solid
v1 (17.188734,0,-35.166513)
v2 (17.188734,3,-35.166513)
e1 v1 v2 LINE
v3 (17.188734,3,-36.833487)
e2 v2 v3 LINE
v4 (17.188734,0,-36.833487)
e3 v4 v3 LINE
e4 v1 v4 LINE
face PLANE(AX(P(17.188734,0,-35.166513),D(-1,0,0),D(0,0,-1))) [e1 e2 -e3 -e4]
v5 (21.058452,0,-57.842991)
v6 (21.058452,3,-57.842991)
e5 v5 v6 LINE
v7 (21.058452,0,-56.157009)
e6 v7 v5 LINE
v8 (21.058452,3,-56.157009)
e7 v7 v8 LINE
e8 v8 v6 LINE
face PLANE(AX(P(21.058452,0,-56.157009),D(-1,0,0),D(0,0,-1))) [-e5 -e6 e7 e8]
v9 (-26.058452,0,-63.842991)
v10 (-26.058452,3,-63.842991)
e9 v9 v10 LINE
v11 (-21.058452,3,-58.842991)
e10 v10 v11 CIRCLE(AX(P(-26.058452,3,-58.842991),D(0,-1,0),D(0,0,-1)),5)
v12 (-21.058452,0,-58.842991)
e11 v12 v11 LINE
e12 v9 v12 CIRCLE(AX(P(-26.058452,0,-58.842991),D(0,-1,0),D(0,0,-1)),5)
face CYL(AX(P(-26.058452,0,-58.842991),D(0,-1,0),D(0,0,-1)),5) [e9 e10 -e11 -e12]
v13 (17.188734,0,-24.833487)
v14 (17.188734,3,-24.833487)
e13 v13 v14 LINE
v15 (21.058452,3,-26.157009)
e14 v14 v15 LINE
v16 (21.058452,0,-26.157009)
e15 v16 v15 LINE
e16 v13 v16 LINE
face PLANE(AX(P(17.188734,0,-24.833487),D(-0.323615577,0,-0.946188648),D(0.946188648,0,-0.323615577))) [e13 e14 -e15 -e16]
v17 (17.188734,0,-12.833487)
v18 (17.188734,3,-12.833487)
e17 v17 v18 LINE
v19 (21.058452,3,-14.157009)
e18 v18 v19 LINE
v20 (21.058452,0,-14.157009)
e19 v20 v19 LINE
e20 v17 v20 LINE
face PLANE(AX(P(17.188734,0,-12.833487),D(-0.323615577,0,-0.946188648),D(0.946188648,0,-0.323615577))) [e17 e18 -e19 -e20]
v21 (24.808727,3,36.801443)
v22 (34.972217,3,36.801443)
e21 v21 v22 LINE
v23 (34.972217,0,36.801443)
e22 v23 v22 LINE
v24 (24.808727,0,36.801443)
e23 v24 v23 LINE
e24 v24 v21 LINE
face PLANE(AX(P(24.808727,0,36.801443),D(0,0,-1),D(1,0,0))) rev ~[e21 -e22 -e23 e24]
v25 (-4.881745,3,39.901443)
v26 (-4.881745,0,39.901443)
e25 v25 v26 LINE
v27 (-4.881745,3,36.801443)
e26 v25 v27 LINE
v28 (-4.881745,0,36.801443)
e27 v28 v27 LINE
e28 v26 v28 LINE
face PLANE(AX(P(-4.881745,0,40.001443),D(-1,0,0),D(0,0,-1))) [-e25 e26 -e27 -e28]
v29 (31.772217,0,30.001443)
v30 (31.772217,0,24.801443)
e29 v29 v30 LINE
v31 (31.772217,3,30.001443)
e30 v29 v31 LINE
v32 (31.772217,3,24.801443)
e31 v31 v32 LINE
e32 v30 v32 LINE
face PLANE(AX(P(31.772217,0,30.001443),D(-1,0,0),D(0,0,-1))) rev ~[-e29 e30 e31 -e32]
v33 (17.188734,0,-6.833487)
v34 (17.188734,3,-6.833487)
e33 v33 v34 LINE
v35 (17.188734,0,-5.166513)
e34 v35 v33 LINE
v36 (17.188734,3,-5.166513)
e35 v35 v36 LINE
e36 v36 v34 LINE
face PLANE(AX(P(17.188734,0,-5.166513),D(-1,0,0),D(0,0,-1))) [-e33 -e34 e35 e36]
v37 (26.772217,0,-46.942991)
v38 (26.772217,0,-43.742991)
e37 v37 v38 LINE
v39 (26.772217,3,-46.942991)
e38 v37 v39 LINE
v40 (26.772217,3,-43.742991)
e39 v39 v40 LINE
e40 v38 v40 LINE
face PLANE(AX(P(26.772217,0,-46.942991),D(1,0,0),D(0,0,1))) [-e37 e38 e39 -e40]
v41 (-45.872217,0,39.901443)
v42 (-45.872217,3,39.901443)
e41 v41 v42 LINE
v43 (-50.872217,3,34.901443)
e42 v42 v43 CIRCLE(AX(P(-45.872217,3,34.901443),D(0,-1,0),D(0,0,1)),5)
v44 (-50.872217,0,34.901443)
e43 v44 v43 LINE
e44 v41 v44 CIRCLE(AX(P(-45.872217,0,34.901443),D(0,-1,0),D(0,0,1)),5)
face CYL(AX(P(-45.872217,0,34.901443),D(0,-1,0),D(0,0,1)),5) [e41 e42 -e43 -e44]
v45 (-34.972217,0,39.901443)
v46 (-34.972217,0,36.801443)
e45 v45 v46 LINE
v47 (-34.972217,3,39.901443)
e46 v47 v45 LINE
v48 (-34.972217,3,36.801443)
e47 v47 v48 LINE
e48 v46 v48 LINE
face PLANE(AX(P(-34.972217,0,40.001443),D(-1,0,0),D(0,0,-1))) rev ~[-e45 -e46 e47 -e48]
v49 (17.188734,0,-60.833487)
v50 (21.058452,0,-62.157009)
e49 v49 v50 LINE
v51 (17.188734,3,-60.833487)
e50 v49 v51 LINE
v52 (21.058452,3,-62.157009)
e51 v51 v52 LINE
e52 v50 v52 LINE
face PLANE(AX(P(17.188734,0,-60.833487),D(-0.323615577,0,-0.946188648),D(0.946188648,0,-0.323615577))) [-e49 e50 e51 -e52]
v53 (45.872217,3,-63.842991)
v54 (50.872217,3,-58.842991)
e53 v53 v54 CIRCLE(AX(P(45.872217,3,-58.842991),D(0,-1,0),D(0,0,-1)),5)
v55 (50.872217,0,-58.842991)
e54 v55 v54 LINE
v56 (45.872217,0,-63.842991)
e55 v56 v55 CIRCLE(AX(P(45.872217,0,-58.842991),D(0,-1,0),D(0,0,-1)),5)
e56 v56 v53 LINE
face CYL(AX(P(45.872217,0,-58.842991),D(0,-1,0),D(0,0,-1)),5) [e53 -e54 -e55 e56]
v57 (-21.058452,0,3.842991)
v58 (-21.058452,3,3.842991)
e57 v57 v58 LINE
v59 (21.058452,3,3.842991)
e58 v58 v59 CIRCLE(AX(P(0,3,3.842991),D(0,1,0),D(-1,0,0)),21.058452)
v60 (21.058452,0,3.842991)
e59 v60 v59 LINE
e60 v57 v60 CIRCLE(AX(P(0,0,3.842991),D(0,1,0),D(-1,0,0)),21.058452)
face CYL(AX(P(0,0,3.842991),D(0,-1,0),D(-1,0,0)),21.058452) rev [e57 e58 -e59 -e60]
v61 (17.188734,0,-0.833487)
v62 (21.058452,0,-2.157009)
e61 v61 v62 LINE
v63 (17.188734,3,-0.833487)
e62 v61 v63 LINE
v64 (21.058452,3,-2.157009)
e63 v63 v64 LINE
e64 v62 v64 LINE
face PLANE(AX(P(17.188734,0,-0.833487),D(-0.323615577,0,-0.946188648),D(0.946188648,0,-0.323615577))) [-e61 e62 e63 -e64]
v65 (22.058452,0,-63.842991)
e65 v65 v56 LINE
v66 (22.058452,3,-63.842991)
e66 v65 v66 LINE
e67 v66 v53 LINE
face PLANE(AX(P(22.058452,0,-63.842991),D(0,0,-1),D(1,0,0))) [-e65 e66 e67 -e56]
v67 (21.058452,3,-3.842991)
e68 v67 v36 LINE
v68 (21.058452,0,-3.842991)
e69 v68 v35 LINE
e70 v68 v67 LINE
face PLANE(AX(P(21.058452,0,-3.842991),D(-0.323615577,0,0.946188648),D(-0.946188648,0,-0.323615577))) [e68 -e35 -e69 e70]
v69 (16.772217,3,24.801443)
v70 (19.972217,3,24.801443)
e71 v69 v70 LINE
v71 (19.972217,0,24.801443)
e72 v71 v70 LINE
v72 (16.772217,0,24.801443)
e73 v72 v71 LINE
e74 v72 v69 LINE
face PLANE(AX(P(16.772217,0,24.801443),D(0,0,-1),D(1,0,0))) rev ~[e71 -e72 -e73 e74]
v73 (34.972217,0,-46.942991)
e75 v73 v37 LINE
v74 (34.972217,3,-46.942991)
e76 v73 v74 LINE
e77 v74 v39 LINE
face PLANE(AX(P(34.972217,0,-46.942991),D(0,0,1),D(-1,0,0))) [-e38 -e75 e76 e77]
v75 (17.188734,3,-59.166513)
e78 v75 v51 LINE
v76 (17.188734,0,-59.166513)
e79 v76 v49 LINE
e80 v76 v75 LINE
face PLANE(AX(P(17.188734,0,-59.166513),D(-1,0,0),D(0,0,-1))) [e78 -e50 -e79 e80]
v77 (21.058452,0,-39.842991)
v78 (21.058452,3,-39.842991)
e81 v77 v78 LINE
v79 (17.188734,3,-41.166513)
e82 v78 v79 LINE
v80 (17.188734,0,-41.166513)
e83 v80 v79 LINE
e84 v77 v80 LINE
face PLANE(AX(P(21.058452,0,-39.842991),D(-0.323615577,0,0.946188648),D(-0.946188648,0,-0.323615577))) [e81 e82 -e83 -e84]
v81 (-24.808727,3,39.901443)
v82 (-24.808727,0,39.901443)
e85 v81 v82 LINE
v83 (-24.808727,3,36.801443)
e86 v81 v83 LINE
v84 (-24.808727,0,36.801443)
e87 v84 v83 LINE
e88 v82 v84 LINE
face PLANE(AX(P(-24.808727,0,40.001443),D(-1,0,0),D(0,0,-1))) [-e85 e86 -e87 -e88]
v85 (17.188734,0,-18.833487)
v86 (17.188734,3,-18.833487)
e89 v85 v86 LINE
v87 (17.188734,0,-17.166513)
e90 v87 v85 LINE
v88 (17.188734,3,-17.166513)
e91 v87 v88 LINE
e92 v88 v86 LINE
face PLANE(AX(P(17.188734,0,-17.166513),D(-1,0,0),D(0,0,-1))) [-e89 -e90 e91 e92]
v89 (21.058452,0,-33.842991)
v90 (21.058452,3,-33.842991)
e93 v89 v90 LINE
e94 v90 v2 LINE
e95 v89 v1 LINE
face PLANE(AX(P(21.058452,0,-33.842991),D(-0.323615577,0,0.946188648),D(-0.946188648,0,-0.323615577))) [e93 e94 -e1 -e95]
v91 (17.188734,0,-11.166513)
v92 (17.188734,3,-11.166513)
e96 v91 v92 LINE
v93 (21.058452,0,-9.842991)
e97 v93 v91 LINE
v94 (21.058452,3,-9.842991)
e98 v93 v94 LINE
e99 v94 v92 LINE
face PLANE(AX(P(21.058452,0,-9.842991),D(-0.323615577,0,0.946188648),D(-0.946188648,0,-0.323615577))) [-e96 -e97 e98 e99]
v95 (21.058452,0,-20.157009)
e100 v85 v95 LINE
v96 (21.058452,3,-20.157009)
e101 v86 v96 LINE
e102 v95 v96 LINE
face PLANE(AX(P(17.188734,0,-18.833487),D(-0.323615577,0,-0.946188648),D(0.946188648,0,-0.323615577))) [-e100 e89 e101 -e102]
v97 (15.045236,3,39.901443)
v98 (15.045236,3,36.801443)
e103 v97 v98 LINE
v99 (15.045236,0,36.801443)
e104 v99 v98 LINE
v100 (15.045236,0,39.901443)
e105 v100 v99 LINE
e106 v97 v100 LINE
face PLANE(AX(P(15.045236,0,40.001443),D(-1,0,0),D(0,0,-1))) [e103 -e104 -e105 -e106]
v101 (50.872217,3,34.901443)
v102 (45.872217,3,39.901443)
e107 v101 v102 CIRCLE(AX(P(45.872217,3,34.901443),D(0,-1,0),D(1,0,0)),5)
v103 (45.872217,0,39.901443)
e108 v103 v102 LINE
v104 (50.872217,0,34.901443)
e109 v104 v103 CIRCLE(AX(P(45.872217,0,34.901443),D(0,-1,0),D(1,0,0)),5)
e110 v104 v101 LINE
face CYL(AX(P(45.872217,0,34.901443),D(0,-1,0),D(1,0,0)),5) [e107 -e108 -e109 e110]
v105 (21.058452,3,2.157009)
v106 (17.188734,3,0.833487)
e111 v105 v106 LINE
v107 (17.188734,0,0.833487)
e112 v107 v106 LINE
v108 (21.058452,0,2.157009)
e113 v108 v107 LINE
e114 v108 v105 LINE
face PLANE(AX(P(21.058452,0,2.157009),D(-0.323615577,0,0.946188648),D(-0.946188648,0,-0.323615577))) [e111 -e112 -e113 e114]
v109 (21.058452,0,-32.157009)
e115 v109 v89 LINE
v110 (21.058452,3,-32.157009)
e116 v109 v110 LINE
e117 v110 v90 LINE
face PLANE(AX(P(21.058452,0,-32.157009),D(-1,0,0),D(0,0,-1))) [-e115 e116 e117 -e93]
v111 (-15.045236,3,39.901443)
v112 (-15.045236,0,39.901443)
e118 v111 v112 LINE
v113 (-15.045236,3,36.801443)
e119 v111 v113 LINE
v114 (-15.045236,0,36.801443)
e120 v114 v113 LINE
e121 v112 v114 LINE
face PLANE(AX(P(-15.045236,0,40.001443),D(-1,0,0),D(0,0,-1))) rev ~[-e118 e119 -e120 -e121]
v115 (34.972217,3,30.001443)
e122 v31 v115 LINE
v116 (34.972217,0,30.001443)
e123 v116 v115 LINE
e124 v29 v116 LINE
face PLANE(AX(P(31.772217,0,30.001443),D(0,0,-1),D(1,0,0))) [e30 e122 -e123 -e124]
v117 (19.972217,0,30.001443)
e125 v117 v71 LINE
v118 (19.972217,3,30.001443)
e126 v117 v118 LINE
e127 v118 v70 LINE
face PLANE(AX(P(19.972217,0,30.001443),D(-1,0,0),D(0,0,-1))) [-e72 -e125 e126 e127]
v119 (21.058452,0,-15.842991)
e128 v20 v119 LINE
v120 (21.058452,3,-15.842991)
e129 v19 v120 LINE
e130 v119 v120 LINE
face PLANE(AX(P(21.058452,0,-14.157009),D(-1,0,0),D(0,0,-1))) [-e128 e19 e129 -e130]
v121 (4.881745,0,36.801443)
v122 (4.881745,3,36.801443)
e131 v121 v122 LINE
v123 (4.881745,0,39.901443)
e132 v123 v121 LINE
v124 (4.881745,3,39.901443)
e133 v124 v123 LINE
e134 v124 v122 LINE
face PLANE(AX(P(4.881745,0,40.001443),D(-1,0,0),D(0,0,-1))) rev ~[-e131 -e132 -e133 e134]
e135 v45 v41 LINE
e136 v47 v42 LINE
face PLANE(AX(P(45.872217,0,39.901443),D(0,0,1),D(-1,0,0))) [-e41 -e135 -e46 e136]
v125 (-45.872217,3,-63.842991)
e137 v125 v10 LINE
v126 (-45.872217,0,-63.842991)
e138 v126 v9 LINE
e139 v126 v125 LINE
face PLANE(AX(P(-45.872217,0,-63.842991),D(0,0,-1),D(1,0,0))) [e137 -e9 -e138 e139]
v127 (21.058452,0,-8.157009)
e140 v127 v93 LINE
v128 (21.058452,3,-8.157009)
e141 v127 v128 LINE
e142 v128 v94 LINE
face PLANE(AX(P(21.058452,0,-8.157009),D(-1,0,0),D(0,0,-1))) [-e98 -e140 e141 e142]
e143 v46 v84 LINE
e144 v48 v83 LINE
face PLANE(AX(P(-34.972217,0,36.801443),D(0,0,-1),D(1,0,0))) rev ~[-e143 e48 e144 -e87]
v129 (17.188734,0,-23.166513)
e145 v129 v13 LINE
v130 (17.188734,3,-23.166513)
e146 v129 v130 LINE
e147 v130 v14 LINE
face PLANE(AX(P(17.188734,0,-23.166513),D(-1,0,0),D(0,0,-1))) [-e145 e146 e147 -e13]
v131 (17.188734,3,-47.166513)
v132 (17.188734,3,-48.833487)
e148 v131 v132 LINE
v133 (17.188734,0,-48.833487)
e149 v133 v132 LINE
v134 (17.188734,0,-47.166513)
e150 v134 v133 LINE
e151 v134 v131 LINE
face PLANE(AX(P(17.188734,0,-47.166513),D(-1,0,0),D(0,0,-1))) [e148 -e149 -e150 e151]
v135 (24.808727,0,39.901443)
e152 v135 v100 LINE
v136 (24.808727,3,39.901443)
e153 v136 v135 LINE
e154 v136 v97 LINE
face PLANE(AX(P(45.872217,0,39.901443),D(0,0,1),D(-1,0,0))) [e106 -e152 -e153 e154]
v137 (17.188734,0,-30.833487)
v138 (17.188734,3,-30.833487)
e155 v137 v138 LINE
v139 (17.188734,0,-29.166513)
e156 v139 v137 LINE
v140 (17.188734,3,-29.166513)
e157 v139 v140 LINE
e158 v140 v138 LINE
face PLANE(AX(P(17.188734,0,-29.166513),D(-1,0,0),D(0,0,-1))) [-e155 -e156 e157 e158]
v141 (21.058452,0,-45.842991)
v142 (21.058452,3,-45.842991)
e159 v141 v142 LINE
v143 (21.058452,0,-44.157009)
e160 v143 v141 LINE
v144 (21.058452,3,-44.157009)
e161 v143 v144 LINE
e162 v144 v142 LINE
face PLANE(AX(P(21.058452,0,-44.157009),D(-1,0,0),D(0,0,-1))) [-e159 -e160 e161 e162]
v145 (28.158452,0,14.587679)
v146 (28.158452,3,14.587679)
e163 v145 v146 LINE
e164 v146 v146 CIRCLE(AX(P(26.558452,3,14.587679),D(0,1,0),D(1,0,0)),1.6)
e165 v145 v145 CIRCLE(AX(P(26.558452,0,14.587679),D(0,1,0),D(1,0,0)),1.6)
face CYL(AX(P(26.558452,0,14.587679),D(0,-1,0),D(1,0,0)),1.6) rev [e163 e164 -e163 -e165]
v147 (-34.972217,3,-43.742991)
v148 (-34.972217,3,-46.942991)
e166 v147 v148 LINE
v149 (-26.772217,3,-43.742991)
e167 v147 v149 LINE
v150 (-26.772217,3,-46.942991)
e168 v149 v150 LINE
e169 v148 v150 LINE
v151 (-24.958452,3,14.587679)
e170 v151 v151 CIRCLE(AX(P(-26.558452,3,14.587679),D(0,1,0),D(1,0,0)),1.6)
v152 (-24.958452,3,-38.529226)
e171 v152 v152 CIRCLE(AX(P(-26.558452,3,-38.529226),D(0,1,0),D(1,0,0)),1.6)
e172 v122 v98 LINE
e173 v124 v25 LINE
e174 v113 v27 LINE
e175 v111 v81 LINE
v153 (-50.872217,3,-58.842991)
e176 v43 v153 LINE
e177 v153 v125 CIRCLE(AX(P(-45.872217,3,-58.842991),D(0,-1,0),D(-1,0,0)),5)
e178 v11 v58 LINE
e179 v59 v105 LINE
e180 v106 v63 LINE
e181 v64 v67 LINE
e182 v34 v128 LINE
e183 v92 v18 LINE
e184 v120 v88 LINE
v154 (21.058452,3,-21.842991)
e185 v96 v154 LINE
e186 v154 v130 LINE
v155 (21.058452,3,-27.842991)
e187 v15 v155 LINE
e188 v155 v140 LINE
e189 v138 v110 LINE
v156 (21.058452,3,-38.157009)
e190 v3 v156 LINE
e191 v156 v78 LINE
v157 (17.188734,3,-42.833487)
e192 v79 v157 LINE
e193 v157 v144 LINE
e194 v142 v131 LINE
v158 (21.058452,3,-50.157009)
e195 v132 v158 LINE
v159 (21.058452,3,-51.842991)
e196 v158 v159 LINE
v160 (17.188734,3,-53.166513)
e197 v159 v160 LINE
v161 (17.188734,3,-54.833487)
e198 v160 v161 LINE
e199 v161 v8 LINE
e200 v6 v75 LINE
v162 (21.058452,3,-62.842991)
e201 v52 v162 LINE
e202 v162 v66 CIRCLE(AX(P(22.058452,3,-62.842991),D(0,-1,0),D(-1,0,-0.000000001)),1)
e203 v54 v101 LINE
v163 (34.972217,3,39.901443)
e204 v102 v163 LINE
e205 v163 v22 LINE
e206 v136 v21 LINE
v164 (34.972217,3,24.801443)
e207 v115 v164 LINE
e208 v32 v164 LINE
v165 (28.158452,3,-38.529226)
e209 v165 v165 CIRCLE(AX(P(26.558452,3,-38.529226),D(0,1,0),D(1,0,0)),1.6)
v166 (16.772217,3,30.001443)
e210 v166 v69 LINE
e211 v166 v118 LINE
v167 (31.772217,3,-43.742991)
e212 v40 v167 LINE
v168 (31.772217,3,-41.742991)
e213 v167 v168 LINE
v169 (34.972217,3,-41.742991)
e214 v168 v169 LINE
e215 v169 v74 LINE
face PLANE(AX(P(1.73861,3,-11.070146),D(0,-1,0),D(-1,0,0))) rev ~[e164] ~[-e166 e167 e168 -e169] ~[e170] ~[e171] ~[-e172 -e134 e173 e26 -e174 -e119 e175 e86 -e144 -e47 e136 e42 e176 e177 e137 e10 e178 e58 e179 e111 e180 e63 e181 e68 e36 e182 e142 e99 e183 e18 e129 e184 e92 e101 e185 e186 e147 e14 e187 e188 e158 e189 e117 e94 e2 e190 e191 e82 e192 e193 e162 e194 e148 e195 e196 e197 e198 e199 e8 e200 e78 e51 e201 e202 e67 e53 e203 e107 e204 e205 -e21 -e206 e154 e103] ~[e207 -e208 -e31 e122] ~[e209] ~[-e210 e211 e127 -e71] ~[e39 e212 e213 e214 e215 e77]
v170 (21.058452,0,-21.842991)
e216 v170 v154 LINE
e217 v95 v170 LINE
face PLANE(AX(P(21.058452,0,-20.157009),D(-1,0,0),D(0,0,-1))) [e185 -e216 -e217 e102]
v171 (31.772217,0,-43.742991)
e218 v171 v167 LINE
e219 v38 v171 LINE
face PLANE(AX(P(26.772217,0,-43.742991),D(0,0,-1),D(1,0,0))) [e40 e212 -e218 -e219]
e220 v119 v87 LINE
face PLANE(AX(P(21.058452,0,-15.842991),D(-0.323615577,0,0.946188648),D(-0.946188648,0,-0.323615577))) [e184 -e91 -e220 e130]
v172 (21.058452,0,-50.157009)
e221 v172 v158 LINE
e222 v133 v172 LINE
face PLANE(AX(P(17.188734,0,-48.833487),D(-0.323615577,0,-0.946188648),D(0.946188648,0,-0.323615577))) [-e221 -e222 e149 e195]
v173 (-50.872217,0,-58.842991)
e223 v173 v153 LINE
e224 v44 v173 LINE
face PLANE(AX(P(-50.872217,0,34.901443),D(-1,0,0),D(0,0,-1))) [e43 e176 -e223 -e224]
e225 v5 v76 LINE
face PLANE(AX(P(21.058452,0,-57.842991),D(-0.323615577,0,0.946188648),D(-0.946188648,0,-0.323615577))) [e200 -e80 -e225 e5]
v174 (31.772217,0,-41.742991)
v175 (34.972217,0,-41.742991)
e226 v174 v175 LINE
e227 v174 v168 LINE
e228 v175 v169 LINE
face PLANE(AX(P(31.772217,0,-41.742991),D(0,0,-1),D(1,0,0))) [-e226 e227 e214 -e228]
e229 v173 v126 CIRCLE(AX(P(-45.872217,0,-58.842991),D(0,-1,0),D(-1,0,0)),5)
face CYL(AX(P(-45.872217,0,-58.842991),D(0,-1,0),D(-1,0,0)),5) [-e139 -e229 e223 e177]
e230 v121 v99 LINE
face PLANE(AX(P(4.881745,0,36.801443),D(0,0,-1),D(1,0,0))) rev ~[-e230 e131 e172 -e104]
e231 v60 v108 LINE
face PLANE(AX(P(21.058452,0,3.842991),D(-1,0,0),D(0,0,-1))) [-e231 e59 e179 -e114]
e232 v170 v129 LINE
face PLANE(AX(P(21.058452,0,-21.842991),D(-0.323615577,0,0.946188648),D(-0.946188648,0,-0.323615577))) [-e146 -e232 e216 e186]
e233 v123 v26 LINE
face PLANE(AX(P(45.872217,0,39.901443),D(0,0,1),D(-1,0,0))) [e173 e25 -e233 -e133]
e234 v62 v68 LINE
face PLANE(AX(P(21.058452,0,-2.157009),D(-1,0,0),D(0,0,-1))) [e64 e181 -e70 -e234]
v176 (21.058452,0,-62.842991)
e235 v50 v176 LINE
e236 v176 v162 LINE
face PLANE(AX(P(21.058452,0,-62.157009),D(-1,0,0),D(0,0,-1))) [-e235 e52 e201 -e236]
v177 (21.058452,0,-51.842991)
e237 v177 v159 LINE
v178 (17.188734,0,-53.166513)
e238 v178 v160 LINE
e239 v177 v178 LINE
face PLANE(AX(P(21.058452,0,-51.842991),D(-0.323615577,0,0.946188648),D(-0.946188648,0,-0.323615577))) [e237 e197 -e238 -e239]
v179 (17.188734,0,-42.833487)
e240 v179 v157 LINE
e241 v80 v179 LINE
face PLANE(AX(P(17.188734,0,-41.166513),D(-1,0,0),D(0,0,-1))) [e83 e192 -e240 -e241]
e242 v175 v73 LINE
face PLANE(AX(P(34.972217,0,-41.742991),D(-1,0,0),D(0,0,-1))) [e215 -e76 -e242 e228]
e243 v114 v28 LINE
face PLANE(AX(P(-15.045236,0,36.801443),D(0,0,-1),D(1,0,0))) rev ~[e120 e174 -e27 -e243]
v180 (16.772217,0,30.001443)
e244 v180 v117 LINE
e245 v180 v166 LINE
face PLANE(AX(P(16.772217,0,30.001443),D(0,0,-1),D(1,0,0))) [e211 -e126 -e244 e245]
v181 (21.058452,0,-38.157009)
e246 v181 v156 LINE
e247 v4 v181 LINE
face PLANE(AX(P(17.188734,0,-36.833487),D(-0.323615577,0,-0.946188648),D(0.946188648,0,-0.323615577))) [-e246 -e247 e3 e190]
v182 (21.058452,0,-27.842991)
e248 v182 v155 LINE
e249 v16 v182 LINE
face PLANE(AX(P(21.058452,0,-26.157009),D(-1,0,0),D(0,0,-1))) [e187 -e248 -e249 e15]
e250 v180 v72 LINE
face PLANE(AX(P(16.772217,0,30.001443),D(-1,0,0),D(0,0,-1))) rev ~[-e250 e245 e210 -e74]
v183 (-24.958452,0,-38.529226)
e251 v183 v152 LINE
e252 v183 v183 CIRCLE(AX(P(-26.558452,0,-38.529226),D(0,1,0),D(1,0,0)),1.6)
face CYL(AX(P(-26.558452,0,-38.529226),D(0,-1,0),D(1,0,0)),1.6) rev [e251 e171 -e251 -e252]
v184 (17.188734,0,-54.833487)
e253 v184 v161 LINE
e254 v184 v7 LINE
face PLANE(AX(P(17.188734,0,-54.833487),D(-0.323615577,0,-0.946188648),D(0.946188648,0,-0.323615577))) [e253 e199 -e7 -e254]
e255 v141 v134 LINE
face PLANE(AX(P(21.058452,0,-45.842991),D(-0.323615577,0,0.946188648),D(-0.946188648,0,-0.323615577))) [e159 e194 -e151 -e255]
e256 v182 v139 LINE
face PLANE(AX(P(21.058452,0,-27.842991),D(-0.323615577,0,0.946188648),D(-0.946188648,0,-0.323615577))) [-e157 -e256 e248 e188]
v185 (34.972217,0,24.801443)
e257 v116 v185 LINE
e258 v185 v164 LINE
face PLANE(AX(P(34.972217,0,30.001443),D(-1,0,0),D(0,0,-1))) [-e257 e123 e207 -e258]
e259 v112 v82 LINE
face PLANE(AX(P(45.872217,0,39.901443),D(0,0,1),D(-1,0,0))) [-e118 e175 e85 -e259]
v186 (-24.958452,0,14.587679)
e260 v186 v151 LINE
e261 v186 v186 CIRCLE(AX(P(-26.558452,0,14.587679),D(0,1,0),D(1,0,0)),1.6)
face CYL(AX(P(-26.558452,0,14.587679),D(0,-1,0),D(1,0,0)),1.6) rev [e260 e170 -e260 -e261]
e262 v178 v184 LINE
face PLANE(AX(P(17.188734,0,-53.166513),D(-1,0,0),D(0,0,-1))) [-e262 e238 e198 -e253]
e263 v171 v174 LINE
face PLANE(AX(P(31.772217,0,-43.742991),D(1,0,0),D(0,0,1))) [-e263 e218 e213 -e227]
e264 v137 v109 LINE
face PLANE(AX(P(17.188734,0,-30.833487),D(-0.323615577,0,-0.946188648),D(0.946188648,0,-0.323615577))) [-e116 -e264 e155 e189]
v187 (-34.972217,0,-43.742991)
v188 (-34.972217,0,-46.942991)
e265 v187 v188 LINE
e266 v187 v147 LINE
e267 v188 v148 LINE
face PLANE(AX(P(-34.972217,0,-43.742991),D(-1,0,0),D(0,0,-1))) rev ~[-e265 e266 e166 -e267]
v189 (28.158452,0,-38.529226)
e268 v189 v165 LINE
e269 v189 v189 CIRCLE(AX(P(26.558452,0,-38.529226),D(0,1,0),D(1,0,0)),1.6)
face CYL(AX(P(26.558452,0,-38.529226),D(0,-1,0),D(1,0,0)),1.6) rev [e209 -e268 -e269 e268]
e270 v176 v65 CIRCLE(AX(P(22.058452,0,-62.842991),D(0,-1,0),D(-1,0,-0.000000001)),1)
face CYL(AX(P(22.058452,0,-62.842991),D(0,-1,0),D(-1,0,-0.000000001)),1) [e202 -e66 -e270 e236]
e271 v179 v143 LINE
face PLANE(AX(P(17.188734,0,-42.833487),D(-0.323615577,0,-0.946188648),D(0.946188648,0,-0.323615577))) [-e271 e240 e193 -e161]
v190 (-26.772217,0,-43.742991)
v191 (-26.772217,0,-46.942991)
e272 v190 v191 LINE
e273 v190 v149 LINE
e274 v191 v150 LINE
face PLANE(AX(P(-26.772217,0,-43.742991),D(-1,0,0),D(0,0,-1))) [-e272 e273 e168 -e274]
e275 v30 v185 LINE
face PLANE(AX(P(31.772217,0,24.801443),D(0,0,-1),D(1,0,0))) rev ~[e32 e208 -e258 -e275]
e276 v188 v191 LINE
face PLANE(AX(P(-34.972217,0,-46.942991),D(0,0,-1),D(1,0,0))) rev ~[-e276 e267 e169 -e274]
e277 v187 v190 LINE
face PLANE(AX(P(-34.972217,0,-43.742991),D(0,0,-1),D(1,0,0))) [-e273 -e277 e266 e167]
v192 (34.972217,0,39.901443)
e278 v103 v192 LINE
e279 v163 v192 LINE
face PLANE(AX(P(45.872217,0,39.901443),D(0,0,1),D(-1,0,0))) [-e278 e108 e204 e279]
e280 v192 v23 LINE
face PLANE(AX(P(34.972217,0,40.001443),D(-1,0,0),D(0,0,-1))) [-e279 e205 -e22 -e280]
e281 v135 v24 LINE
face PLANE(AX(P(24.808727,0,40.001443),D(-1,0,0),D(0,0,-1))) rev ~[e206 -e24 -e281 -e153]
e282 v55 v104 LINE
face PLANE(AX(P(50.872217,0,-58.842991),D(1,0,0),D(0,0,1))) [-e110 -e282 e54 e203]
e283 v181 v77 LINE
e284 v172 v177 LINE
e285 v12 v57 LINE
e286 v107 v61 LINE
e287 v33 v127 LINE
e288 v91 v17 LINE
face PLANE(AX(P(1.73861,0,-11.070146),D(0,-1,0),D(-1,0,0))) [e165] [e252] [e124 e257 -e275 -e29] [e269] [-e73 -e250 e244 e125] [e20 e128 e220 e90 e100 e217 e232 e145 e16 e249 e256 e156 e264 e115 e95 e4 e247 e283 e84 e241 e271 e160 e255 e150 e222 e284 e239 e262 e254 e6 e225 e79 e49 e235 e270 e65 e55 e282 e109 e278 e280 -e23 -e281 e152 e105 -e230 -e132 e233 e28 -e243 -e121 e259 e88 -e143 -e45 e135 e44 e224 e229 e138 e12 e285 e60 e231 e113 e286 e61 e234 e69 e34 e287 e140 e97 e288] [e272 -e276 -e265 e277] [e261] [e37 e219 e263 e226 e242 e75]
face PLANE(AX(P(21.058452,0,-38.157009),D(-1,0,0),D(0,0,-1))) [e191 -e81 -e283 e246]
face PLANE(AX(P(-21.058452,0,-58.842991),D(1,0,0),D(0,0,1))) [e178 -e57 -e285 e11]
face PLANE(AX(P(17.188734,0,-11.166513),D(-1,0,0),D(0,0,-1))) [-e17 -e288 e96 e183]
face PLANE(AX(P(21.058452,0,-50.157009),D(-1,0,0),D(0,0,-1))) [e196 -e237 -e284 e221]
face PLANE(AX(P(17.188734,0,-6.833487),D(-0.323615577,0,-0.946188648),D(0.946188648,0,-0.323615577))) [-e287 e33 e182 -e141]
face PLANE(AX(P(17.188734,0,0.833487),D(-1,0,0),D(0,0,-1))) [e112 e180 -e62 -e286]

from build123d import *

# Parameters (mm, degrees)
SKETCH1_R           = 1.6
BOSS_EXTRUDE1_DEPTH = 3
SKETCH6_W           = 10.163490601
SKETCH6_H           = 3.2
SKETCH6_W_2         = 8.2
SKETCH6_W_3         = 3.2
SKETCH6_H_2         = 5.2
CUT_EXTRUDE4_DEPTH  = 4


with BuildPart() as part:
    # Sketch1 → Boss-Extrude1 (new body)
    with BuildSketch(Plane(origin=(0, 0, 0), x_dir=(1, 0, 0), z_dir=(0, 1, 0))):
        with BuildLine():
            Line((21.058452488, 3.842990858), (17.188733854, 5.16651258))
            Line((17.188733854, 5.16651258), (17.188733854, 6.83348742))
            Line((17.188733854, 6.83348742), (21.058452488, 8.157009142))
            Line((21.058452488, 8.157009142), (21.058452488, 9.842990858))
            Line((21.058452488, 9.842990858), (17.188733854, 11.16651258))
            Line((17.188733854, 11.16651258), (17.188733854, 12.83348742))
            Line((17.188733854, 12.83348742), (21.058452488, 14.157009142))
            Line((21.058452488, 14.157009142), (21.058452488, 15.842990858))
            Line((21.058452488, 15.842990858), (17.188733854, 17.16651258))
            Line((17.188733854, 17.16651258), (17.188733854, 18.83348742))
            Line((17.188733854, 18.83348742), (21.058452488, 20.157009142))
            Line((21.058452488, 20.157009142), (21.058452488, 21.842990858))
            Line((21.058452488, 21.842990858), (17.188733854, 23.16651258))
            Line((17.188733854, 23.16651258), (17.188733854, 24.83348742))
            Line((17.188733854, 24.83348742), (21.058452488, 26.157009142))
            Line((21.058452488, 26.157009142), (21.058452488, 27.842990858))
            Line((21.058452488, 27.842990858), (17.188733854, 29.16651258))
            Line((17.188733854, 29.16651258), (17.188733854, 30.83348742))
            Line((17.188733854, 30.83348742), (21.058452488, 32.157009142))
            Line((21.058452488, 32.157009142), (21.058452488, 33.842990858))
            Line((21.058452488, 33.842990858), (17.188733854, 35.16651258))
            Line((17.188733854, 35.16651258), (17.188733854, 36.83348742))
            Line((17.188733854, 36.83348742), (21.058452488, 38.157009142))
            Line((21.058452488, 38.157009142), (21.058452488, 39.842990858))
            Line((21.058452488, 39.842990858), (17.188733854, 41.16651258))
            Line((17.188733854, 41.16651258), (17.188733854, 42.83348742))
            Line((17.188733854, 42.83348742), (21.058452488, 44.157009142))
            Line((21.058452488, 44.157009142), (21.058452488, 45.842990858))
            Line((21.058452488, 45.842990858), (17.188733854, 47.16651258))
            Line((17.188733854, 47.16651258), (17.188733854, 48.83348742))
            Line((17.188733854, 48.83348742), (21.058452488, 50.157009142))
            Line((21.058452488, 50.157009142), (21.058452488, 51.842990858))
            Line((21.058452488, 51.842990858), (17.188733854, 53.16651258))
            Line((17.188733854, 53.16651258), (17.188733854, 54.83348742))
            Line((17.188733854, 54.83348742), (21.058452488, 56.157009142))
            Line((21.058452488, 56.157009142), (21.058452488, 57.842990858))
            Line((21.058452488, 57.842990858), (17.188733854, 59.16651258))
            Line((17.188733854, 59.16651258), (17.188733854, 60.83348742))
            Line((17.188733854, 60.83348742), (21.058452488, 62.157009142))
            Line((21.058452488, 62.157009142), (21.058452488, 62.842990858))
            ThreePointArc((21.058452488, 62.842990858), (21.351345707, 63.550097639), (22.058452488, 63.842990858))
            Line((22.058452488, 63.842990858), (45.872217102, 63.842990858))
            ThreePointArc((45.872217102, 63.842990858), (49.407751008, 62.378524764), (50.872217102, 58.842990858))
            Line((50.872217102, 58.842990858), (50.872217102, -34.901443346))
            ThreePointArc((50.872217102, -34.901443346), (49.407751008, -38.436977252), (45.872217102, -39.901443346))
            Line((45.872217102, -39.901443346), (-45.872217102, -39.901443346))
            ThreePointArc((-45.872217102, -39.901443346), (-49.407751008, -38.436977252), (-50.872217102, -34.901443346))
            Line((-50.872217102, -34.901443346), (-50.872217102, 58.842990858))
            ThreePointArc((-50.872217102, 58.842990858), (-49.407751008, 62.378524764), (-45.872217102, 63.842990858))
            Line((-45.872217102, 63.842990858), (-26.058452488, 63.842990858))
            ThreePointArc((-26.058452488, 63.842990858), (-22.522918582, 62.378524764), (-21.058452488, 58.842990858))
            Line((-21.058452488, 58.842990858), (-21.058452488, -3.842990858))
            ThreePointArc((-21.058452488, -3.842990858), (0, -24.901443346), (21.058452488, -3.842990858))
            Line((21.058452488, -3.842990858), (21.058452488, -2.157009142))
            Line((21.058452488, -2.157009142), (17.188733854, -0.83348742))
            Line((17.188733854, -0.83348742), (17.188733854, 0.83348742))
            Line((17.188733854, 0.83348742), (21.058452488, 2.157009142))
            Line((21.058452488, 2.157009142), (21.058452488, 3.842990858))
        make_face()
        with Locations((26.558452488, -14.587678732)):
            Circle(SKETCH1_R, mode=Mode.SUBTRACT)
        with Locations((-26.558452488, -14.587678732)):
            Circle(SKETCH1_R, mode=Mode.SUBTRACT)
        with Locations((-26.558452488, 38.529226244)):
            Circle(SKETCH1_R, mode=Mode.SUBTRACT)
        with Locations((26.558452488, 38.529226244)):
            Circle(SKETCH1_R, mode=Mode.SUBTRACT)
    extrude(amount=BOSS_EXTRUDE1_DEPTH)

    # Sketch6 → Cut-Extrude4 (cut, through all)
    with BuildSketch(Plane(origin=(0, 0, 0), x_dir=(1, 0, 0), z_dir=(0, 1, 0))):
        with Locations((9.963490601, -38.401443346)):
            Rectangle(SKETCH6_W, SKETCH6_H)
        with Locations((29.890471802, -38.401443346)):
            Rectangle(SKETCH6_W, SKETCH6_H)
        with Locations((-29.890471802, -38.401443346)):
            Rectangle(SKETCH6_W, SKETCH6_H)
        with Locations((-9.963490601, -38.401443346)):
            Rectangle(SKETCH6_W, SKETCH6_H)
        with Locations((-30.872217102, 45.342990858)):
            Rectangle(SKETCH6_W_2, SKETCH6_H)
        with Locations((33.372217102, -27.401443346)):
            Rectangle(SKETCH6_W_3, SKETCH6_H_2)
        Polygon((34.972217102, 41.742990858), (34.972217102, 46.942990858), (26.772217102, 46.942990858), (26.772217102, 43.742990858), (31.772217102, 43.742990858), (31.772217102, 41.742990858), align=None)
        with Locations((18.372217102, -27.401443346)):
            Rectangle(SKETCH6_W_3, SKETCH6_H_2)
    extrude(amount=CUT_EXTRUDE4_DEPTH, mode=Mode.SUBTRACT)


solid = part.part
